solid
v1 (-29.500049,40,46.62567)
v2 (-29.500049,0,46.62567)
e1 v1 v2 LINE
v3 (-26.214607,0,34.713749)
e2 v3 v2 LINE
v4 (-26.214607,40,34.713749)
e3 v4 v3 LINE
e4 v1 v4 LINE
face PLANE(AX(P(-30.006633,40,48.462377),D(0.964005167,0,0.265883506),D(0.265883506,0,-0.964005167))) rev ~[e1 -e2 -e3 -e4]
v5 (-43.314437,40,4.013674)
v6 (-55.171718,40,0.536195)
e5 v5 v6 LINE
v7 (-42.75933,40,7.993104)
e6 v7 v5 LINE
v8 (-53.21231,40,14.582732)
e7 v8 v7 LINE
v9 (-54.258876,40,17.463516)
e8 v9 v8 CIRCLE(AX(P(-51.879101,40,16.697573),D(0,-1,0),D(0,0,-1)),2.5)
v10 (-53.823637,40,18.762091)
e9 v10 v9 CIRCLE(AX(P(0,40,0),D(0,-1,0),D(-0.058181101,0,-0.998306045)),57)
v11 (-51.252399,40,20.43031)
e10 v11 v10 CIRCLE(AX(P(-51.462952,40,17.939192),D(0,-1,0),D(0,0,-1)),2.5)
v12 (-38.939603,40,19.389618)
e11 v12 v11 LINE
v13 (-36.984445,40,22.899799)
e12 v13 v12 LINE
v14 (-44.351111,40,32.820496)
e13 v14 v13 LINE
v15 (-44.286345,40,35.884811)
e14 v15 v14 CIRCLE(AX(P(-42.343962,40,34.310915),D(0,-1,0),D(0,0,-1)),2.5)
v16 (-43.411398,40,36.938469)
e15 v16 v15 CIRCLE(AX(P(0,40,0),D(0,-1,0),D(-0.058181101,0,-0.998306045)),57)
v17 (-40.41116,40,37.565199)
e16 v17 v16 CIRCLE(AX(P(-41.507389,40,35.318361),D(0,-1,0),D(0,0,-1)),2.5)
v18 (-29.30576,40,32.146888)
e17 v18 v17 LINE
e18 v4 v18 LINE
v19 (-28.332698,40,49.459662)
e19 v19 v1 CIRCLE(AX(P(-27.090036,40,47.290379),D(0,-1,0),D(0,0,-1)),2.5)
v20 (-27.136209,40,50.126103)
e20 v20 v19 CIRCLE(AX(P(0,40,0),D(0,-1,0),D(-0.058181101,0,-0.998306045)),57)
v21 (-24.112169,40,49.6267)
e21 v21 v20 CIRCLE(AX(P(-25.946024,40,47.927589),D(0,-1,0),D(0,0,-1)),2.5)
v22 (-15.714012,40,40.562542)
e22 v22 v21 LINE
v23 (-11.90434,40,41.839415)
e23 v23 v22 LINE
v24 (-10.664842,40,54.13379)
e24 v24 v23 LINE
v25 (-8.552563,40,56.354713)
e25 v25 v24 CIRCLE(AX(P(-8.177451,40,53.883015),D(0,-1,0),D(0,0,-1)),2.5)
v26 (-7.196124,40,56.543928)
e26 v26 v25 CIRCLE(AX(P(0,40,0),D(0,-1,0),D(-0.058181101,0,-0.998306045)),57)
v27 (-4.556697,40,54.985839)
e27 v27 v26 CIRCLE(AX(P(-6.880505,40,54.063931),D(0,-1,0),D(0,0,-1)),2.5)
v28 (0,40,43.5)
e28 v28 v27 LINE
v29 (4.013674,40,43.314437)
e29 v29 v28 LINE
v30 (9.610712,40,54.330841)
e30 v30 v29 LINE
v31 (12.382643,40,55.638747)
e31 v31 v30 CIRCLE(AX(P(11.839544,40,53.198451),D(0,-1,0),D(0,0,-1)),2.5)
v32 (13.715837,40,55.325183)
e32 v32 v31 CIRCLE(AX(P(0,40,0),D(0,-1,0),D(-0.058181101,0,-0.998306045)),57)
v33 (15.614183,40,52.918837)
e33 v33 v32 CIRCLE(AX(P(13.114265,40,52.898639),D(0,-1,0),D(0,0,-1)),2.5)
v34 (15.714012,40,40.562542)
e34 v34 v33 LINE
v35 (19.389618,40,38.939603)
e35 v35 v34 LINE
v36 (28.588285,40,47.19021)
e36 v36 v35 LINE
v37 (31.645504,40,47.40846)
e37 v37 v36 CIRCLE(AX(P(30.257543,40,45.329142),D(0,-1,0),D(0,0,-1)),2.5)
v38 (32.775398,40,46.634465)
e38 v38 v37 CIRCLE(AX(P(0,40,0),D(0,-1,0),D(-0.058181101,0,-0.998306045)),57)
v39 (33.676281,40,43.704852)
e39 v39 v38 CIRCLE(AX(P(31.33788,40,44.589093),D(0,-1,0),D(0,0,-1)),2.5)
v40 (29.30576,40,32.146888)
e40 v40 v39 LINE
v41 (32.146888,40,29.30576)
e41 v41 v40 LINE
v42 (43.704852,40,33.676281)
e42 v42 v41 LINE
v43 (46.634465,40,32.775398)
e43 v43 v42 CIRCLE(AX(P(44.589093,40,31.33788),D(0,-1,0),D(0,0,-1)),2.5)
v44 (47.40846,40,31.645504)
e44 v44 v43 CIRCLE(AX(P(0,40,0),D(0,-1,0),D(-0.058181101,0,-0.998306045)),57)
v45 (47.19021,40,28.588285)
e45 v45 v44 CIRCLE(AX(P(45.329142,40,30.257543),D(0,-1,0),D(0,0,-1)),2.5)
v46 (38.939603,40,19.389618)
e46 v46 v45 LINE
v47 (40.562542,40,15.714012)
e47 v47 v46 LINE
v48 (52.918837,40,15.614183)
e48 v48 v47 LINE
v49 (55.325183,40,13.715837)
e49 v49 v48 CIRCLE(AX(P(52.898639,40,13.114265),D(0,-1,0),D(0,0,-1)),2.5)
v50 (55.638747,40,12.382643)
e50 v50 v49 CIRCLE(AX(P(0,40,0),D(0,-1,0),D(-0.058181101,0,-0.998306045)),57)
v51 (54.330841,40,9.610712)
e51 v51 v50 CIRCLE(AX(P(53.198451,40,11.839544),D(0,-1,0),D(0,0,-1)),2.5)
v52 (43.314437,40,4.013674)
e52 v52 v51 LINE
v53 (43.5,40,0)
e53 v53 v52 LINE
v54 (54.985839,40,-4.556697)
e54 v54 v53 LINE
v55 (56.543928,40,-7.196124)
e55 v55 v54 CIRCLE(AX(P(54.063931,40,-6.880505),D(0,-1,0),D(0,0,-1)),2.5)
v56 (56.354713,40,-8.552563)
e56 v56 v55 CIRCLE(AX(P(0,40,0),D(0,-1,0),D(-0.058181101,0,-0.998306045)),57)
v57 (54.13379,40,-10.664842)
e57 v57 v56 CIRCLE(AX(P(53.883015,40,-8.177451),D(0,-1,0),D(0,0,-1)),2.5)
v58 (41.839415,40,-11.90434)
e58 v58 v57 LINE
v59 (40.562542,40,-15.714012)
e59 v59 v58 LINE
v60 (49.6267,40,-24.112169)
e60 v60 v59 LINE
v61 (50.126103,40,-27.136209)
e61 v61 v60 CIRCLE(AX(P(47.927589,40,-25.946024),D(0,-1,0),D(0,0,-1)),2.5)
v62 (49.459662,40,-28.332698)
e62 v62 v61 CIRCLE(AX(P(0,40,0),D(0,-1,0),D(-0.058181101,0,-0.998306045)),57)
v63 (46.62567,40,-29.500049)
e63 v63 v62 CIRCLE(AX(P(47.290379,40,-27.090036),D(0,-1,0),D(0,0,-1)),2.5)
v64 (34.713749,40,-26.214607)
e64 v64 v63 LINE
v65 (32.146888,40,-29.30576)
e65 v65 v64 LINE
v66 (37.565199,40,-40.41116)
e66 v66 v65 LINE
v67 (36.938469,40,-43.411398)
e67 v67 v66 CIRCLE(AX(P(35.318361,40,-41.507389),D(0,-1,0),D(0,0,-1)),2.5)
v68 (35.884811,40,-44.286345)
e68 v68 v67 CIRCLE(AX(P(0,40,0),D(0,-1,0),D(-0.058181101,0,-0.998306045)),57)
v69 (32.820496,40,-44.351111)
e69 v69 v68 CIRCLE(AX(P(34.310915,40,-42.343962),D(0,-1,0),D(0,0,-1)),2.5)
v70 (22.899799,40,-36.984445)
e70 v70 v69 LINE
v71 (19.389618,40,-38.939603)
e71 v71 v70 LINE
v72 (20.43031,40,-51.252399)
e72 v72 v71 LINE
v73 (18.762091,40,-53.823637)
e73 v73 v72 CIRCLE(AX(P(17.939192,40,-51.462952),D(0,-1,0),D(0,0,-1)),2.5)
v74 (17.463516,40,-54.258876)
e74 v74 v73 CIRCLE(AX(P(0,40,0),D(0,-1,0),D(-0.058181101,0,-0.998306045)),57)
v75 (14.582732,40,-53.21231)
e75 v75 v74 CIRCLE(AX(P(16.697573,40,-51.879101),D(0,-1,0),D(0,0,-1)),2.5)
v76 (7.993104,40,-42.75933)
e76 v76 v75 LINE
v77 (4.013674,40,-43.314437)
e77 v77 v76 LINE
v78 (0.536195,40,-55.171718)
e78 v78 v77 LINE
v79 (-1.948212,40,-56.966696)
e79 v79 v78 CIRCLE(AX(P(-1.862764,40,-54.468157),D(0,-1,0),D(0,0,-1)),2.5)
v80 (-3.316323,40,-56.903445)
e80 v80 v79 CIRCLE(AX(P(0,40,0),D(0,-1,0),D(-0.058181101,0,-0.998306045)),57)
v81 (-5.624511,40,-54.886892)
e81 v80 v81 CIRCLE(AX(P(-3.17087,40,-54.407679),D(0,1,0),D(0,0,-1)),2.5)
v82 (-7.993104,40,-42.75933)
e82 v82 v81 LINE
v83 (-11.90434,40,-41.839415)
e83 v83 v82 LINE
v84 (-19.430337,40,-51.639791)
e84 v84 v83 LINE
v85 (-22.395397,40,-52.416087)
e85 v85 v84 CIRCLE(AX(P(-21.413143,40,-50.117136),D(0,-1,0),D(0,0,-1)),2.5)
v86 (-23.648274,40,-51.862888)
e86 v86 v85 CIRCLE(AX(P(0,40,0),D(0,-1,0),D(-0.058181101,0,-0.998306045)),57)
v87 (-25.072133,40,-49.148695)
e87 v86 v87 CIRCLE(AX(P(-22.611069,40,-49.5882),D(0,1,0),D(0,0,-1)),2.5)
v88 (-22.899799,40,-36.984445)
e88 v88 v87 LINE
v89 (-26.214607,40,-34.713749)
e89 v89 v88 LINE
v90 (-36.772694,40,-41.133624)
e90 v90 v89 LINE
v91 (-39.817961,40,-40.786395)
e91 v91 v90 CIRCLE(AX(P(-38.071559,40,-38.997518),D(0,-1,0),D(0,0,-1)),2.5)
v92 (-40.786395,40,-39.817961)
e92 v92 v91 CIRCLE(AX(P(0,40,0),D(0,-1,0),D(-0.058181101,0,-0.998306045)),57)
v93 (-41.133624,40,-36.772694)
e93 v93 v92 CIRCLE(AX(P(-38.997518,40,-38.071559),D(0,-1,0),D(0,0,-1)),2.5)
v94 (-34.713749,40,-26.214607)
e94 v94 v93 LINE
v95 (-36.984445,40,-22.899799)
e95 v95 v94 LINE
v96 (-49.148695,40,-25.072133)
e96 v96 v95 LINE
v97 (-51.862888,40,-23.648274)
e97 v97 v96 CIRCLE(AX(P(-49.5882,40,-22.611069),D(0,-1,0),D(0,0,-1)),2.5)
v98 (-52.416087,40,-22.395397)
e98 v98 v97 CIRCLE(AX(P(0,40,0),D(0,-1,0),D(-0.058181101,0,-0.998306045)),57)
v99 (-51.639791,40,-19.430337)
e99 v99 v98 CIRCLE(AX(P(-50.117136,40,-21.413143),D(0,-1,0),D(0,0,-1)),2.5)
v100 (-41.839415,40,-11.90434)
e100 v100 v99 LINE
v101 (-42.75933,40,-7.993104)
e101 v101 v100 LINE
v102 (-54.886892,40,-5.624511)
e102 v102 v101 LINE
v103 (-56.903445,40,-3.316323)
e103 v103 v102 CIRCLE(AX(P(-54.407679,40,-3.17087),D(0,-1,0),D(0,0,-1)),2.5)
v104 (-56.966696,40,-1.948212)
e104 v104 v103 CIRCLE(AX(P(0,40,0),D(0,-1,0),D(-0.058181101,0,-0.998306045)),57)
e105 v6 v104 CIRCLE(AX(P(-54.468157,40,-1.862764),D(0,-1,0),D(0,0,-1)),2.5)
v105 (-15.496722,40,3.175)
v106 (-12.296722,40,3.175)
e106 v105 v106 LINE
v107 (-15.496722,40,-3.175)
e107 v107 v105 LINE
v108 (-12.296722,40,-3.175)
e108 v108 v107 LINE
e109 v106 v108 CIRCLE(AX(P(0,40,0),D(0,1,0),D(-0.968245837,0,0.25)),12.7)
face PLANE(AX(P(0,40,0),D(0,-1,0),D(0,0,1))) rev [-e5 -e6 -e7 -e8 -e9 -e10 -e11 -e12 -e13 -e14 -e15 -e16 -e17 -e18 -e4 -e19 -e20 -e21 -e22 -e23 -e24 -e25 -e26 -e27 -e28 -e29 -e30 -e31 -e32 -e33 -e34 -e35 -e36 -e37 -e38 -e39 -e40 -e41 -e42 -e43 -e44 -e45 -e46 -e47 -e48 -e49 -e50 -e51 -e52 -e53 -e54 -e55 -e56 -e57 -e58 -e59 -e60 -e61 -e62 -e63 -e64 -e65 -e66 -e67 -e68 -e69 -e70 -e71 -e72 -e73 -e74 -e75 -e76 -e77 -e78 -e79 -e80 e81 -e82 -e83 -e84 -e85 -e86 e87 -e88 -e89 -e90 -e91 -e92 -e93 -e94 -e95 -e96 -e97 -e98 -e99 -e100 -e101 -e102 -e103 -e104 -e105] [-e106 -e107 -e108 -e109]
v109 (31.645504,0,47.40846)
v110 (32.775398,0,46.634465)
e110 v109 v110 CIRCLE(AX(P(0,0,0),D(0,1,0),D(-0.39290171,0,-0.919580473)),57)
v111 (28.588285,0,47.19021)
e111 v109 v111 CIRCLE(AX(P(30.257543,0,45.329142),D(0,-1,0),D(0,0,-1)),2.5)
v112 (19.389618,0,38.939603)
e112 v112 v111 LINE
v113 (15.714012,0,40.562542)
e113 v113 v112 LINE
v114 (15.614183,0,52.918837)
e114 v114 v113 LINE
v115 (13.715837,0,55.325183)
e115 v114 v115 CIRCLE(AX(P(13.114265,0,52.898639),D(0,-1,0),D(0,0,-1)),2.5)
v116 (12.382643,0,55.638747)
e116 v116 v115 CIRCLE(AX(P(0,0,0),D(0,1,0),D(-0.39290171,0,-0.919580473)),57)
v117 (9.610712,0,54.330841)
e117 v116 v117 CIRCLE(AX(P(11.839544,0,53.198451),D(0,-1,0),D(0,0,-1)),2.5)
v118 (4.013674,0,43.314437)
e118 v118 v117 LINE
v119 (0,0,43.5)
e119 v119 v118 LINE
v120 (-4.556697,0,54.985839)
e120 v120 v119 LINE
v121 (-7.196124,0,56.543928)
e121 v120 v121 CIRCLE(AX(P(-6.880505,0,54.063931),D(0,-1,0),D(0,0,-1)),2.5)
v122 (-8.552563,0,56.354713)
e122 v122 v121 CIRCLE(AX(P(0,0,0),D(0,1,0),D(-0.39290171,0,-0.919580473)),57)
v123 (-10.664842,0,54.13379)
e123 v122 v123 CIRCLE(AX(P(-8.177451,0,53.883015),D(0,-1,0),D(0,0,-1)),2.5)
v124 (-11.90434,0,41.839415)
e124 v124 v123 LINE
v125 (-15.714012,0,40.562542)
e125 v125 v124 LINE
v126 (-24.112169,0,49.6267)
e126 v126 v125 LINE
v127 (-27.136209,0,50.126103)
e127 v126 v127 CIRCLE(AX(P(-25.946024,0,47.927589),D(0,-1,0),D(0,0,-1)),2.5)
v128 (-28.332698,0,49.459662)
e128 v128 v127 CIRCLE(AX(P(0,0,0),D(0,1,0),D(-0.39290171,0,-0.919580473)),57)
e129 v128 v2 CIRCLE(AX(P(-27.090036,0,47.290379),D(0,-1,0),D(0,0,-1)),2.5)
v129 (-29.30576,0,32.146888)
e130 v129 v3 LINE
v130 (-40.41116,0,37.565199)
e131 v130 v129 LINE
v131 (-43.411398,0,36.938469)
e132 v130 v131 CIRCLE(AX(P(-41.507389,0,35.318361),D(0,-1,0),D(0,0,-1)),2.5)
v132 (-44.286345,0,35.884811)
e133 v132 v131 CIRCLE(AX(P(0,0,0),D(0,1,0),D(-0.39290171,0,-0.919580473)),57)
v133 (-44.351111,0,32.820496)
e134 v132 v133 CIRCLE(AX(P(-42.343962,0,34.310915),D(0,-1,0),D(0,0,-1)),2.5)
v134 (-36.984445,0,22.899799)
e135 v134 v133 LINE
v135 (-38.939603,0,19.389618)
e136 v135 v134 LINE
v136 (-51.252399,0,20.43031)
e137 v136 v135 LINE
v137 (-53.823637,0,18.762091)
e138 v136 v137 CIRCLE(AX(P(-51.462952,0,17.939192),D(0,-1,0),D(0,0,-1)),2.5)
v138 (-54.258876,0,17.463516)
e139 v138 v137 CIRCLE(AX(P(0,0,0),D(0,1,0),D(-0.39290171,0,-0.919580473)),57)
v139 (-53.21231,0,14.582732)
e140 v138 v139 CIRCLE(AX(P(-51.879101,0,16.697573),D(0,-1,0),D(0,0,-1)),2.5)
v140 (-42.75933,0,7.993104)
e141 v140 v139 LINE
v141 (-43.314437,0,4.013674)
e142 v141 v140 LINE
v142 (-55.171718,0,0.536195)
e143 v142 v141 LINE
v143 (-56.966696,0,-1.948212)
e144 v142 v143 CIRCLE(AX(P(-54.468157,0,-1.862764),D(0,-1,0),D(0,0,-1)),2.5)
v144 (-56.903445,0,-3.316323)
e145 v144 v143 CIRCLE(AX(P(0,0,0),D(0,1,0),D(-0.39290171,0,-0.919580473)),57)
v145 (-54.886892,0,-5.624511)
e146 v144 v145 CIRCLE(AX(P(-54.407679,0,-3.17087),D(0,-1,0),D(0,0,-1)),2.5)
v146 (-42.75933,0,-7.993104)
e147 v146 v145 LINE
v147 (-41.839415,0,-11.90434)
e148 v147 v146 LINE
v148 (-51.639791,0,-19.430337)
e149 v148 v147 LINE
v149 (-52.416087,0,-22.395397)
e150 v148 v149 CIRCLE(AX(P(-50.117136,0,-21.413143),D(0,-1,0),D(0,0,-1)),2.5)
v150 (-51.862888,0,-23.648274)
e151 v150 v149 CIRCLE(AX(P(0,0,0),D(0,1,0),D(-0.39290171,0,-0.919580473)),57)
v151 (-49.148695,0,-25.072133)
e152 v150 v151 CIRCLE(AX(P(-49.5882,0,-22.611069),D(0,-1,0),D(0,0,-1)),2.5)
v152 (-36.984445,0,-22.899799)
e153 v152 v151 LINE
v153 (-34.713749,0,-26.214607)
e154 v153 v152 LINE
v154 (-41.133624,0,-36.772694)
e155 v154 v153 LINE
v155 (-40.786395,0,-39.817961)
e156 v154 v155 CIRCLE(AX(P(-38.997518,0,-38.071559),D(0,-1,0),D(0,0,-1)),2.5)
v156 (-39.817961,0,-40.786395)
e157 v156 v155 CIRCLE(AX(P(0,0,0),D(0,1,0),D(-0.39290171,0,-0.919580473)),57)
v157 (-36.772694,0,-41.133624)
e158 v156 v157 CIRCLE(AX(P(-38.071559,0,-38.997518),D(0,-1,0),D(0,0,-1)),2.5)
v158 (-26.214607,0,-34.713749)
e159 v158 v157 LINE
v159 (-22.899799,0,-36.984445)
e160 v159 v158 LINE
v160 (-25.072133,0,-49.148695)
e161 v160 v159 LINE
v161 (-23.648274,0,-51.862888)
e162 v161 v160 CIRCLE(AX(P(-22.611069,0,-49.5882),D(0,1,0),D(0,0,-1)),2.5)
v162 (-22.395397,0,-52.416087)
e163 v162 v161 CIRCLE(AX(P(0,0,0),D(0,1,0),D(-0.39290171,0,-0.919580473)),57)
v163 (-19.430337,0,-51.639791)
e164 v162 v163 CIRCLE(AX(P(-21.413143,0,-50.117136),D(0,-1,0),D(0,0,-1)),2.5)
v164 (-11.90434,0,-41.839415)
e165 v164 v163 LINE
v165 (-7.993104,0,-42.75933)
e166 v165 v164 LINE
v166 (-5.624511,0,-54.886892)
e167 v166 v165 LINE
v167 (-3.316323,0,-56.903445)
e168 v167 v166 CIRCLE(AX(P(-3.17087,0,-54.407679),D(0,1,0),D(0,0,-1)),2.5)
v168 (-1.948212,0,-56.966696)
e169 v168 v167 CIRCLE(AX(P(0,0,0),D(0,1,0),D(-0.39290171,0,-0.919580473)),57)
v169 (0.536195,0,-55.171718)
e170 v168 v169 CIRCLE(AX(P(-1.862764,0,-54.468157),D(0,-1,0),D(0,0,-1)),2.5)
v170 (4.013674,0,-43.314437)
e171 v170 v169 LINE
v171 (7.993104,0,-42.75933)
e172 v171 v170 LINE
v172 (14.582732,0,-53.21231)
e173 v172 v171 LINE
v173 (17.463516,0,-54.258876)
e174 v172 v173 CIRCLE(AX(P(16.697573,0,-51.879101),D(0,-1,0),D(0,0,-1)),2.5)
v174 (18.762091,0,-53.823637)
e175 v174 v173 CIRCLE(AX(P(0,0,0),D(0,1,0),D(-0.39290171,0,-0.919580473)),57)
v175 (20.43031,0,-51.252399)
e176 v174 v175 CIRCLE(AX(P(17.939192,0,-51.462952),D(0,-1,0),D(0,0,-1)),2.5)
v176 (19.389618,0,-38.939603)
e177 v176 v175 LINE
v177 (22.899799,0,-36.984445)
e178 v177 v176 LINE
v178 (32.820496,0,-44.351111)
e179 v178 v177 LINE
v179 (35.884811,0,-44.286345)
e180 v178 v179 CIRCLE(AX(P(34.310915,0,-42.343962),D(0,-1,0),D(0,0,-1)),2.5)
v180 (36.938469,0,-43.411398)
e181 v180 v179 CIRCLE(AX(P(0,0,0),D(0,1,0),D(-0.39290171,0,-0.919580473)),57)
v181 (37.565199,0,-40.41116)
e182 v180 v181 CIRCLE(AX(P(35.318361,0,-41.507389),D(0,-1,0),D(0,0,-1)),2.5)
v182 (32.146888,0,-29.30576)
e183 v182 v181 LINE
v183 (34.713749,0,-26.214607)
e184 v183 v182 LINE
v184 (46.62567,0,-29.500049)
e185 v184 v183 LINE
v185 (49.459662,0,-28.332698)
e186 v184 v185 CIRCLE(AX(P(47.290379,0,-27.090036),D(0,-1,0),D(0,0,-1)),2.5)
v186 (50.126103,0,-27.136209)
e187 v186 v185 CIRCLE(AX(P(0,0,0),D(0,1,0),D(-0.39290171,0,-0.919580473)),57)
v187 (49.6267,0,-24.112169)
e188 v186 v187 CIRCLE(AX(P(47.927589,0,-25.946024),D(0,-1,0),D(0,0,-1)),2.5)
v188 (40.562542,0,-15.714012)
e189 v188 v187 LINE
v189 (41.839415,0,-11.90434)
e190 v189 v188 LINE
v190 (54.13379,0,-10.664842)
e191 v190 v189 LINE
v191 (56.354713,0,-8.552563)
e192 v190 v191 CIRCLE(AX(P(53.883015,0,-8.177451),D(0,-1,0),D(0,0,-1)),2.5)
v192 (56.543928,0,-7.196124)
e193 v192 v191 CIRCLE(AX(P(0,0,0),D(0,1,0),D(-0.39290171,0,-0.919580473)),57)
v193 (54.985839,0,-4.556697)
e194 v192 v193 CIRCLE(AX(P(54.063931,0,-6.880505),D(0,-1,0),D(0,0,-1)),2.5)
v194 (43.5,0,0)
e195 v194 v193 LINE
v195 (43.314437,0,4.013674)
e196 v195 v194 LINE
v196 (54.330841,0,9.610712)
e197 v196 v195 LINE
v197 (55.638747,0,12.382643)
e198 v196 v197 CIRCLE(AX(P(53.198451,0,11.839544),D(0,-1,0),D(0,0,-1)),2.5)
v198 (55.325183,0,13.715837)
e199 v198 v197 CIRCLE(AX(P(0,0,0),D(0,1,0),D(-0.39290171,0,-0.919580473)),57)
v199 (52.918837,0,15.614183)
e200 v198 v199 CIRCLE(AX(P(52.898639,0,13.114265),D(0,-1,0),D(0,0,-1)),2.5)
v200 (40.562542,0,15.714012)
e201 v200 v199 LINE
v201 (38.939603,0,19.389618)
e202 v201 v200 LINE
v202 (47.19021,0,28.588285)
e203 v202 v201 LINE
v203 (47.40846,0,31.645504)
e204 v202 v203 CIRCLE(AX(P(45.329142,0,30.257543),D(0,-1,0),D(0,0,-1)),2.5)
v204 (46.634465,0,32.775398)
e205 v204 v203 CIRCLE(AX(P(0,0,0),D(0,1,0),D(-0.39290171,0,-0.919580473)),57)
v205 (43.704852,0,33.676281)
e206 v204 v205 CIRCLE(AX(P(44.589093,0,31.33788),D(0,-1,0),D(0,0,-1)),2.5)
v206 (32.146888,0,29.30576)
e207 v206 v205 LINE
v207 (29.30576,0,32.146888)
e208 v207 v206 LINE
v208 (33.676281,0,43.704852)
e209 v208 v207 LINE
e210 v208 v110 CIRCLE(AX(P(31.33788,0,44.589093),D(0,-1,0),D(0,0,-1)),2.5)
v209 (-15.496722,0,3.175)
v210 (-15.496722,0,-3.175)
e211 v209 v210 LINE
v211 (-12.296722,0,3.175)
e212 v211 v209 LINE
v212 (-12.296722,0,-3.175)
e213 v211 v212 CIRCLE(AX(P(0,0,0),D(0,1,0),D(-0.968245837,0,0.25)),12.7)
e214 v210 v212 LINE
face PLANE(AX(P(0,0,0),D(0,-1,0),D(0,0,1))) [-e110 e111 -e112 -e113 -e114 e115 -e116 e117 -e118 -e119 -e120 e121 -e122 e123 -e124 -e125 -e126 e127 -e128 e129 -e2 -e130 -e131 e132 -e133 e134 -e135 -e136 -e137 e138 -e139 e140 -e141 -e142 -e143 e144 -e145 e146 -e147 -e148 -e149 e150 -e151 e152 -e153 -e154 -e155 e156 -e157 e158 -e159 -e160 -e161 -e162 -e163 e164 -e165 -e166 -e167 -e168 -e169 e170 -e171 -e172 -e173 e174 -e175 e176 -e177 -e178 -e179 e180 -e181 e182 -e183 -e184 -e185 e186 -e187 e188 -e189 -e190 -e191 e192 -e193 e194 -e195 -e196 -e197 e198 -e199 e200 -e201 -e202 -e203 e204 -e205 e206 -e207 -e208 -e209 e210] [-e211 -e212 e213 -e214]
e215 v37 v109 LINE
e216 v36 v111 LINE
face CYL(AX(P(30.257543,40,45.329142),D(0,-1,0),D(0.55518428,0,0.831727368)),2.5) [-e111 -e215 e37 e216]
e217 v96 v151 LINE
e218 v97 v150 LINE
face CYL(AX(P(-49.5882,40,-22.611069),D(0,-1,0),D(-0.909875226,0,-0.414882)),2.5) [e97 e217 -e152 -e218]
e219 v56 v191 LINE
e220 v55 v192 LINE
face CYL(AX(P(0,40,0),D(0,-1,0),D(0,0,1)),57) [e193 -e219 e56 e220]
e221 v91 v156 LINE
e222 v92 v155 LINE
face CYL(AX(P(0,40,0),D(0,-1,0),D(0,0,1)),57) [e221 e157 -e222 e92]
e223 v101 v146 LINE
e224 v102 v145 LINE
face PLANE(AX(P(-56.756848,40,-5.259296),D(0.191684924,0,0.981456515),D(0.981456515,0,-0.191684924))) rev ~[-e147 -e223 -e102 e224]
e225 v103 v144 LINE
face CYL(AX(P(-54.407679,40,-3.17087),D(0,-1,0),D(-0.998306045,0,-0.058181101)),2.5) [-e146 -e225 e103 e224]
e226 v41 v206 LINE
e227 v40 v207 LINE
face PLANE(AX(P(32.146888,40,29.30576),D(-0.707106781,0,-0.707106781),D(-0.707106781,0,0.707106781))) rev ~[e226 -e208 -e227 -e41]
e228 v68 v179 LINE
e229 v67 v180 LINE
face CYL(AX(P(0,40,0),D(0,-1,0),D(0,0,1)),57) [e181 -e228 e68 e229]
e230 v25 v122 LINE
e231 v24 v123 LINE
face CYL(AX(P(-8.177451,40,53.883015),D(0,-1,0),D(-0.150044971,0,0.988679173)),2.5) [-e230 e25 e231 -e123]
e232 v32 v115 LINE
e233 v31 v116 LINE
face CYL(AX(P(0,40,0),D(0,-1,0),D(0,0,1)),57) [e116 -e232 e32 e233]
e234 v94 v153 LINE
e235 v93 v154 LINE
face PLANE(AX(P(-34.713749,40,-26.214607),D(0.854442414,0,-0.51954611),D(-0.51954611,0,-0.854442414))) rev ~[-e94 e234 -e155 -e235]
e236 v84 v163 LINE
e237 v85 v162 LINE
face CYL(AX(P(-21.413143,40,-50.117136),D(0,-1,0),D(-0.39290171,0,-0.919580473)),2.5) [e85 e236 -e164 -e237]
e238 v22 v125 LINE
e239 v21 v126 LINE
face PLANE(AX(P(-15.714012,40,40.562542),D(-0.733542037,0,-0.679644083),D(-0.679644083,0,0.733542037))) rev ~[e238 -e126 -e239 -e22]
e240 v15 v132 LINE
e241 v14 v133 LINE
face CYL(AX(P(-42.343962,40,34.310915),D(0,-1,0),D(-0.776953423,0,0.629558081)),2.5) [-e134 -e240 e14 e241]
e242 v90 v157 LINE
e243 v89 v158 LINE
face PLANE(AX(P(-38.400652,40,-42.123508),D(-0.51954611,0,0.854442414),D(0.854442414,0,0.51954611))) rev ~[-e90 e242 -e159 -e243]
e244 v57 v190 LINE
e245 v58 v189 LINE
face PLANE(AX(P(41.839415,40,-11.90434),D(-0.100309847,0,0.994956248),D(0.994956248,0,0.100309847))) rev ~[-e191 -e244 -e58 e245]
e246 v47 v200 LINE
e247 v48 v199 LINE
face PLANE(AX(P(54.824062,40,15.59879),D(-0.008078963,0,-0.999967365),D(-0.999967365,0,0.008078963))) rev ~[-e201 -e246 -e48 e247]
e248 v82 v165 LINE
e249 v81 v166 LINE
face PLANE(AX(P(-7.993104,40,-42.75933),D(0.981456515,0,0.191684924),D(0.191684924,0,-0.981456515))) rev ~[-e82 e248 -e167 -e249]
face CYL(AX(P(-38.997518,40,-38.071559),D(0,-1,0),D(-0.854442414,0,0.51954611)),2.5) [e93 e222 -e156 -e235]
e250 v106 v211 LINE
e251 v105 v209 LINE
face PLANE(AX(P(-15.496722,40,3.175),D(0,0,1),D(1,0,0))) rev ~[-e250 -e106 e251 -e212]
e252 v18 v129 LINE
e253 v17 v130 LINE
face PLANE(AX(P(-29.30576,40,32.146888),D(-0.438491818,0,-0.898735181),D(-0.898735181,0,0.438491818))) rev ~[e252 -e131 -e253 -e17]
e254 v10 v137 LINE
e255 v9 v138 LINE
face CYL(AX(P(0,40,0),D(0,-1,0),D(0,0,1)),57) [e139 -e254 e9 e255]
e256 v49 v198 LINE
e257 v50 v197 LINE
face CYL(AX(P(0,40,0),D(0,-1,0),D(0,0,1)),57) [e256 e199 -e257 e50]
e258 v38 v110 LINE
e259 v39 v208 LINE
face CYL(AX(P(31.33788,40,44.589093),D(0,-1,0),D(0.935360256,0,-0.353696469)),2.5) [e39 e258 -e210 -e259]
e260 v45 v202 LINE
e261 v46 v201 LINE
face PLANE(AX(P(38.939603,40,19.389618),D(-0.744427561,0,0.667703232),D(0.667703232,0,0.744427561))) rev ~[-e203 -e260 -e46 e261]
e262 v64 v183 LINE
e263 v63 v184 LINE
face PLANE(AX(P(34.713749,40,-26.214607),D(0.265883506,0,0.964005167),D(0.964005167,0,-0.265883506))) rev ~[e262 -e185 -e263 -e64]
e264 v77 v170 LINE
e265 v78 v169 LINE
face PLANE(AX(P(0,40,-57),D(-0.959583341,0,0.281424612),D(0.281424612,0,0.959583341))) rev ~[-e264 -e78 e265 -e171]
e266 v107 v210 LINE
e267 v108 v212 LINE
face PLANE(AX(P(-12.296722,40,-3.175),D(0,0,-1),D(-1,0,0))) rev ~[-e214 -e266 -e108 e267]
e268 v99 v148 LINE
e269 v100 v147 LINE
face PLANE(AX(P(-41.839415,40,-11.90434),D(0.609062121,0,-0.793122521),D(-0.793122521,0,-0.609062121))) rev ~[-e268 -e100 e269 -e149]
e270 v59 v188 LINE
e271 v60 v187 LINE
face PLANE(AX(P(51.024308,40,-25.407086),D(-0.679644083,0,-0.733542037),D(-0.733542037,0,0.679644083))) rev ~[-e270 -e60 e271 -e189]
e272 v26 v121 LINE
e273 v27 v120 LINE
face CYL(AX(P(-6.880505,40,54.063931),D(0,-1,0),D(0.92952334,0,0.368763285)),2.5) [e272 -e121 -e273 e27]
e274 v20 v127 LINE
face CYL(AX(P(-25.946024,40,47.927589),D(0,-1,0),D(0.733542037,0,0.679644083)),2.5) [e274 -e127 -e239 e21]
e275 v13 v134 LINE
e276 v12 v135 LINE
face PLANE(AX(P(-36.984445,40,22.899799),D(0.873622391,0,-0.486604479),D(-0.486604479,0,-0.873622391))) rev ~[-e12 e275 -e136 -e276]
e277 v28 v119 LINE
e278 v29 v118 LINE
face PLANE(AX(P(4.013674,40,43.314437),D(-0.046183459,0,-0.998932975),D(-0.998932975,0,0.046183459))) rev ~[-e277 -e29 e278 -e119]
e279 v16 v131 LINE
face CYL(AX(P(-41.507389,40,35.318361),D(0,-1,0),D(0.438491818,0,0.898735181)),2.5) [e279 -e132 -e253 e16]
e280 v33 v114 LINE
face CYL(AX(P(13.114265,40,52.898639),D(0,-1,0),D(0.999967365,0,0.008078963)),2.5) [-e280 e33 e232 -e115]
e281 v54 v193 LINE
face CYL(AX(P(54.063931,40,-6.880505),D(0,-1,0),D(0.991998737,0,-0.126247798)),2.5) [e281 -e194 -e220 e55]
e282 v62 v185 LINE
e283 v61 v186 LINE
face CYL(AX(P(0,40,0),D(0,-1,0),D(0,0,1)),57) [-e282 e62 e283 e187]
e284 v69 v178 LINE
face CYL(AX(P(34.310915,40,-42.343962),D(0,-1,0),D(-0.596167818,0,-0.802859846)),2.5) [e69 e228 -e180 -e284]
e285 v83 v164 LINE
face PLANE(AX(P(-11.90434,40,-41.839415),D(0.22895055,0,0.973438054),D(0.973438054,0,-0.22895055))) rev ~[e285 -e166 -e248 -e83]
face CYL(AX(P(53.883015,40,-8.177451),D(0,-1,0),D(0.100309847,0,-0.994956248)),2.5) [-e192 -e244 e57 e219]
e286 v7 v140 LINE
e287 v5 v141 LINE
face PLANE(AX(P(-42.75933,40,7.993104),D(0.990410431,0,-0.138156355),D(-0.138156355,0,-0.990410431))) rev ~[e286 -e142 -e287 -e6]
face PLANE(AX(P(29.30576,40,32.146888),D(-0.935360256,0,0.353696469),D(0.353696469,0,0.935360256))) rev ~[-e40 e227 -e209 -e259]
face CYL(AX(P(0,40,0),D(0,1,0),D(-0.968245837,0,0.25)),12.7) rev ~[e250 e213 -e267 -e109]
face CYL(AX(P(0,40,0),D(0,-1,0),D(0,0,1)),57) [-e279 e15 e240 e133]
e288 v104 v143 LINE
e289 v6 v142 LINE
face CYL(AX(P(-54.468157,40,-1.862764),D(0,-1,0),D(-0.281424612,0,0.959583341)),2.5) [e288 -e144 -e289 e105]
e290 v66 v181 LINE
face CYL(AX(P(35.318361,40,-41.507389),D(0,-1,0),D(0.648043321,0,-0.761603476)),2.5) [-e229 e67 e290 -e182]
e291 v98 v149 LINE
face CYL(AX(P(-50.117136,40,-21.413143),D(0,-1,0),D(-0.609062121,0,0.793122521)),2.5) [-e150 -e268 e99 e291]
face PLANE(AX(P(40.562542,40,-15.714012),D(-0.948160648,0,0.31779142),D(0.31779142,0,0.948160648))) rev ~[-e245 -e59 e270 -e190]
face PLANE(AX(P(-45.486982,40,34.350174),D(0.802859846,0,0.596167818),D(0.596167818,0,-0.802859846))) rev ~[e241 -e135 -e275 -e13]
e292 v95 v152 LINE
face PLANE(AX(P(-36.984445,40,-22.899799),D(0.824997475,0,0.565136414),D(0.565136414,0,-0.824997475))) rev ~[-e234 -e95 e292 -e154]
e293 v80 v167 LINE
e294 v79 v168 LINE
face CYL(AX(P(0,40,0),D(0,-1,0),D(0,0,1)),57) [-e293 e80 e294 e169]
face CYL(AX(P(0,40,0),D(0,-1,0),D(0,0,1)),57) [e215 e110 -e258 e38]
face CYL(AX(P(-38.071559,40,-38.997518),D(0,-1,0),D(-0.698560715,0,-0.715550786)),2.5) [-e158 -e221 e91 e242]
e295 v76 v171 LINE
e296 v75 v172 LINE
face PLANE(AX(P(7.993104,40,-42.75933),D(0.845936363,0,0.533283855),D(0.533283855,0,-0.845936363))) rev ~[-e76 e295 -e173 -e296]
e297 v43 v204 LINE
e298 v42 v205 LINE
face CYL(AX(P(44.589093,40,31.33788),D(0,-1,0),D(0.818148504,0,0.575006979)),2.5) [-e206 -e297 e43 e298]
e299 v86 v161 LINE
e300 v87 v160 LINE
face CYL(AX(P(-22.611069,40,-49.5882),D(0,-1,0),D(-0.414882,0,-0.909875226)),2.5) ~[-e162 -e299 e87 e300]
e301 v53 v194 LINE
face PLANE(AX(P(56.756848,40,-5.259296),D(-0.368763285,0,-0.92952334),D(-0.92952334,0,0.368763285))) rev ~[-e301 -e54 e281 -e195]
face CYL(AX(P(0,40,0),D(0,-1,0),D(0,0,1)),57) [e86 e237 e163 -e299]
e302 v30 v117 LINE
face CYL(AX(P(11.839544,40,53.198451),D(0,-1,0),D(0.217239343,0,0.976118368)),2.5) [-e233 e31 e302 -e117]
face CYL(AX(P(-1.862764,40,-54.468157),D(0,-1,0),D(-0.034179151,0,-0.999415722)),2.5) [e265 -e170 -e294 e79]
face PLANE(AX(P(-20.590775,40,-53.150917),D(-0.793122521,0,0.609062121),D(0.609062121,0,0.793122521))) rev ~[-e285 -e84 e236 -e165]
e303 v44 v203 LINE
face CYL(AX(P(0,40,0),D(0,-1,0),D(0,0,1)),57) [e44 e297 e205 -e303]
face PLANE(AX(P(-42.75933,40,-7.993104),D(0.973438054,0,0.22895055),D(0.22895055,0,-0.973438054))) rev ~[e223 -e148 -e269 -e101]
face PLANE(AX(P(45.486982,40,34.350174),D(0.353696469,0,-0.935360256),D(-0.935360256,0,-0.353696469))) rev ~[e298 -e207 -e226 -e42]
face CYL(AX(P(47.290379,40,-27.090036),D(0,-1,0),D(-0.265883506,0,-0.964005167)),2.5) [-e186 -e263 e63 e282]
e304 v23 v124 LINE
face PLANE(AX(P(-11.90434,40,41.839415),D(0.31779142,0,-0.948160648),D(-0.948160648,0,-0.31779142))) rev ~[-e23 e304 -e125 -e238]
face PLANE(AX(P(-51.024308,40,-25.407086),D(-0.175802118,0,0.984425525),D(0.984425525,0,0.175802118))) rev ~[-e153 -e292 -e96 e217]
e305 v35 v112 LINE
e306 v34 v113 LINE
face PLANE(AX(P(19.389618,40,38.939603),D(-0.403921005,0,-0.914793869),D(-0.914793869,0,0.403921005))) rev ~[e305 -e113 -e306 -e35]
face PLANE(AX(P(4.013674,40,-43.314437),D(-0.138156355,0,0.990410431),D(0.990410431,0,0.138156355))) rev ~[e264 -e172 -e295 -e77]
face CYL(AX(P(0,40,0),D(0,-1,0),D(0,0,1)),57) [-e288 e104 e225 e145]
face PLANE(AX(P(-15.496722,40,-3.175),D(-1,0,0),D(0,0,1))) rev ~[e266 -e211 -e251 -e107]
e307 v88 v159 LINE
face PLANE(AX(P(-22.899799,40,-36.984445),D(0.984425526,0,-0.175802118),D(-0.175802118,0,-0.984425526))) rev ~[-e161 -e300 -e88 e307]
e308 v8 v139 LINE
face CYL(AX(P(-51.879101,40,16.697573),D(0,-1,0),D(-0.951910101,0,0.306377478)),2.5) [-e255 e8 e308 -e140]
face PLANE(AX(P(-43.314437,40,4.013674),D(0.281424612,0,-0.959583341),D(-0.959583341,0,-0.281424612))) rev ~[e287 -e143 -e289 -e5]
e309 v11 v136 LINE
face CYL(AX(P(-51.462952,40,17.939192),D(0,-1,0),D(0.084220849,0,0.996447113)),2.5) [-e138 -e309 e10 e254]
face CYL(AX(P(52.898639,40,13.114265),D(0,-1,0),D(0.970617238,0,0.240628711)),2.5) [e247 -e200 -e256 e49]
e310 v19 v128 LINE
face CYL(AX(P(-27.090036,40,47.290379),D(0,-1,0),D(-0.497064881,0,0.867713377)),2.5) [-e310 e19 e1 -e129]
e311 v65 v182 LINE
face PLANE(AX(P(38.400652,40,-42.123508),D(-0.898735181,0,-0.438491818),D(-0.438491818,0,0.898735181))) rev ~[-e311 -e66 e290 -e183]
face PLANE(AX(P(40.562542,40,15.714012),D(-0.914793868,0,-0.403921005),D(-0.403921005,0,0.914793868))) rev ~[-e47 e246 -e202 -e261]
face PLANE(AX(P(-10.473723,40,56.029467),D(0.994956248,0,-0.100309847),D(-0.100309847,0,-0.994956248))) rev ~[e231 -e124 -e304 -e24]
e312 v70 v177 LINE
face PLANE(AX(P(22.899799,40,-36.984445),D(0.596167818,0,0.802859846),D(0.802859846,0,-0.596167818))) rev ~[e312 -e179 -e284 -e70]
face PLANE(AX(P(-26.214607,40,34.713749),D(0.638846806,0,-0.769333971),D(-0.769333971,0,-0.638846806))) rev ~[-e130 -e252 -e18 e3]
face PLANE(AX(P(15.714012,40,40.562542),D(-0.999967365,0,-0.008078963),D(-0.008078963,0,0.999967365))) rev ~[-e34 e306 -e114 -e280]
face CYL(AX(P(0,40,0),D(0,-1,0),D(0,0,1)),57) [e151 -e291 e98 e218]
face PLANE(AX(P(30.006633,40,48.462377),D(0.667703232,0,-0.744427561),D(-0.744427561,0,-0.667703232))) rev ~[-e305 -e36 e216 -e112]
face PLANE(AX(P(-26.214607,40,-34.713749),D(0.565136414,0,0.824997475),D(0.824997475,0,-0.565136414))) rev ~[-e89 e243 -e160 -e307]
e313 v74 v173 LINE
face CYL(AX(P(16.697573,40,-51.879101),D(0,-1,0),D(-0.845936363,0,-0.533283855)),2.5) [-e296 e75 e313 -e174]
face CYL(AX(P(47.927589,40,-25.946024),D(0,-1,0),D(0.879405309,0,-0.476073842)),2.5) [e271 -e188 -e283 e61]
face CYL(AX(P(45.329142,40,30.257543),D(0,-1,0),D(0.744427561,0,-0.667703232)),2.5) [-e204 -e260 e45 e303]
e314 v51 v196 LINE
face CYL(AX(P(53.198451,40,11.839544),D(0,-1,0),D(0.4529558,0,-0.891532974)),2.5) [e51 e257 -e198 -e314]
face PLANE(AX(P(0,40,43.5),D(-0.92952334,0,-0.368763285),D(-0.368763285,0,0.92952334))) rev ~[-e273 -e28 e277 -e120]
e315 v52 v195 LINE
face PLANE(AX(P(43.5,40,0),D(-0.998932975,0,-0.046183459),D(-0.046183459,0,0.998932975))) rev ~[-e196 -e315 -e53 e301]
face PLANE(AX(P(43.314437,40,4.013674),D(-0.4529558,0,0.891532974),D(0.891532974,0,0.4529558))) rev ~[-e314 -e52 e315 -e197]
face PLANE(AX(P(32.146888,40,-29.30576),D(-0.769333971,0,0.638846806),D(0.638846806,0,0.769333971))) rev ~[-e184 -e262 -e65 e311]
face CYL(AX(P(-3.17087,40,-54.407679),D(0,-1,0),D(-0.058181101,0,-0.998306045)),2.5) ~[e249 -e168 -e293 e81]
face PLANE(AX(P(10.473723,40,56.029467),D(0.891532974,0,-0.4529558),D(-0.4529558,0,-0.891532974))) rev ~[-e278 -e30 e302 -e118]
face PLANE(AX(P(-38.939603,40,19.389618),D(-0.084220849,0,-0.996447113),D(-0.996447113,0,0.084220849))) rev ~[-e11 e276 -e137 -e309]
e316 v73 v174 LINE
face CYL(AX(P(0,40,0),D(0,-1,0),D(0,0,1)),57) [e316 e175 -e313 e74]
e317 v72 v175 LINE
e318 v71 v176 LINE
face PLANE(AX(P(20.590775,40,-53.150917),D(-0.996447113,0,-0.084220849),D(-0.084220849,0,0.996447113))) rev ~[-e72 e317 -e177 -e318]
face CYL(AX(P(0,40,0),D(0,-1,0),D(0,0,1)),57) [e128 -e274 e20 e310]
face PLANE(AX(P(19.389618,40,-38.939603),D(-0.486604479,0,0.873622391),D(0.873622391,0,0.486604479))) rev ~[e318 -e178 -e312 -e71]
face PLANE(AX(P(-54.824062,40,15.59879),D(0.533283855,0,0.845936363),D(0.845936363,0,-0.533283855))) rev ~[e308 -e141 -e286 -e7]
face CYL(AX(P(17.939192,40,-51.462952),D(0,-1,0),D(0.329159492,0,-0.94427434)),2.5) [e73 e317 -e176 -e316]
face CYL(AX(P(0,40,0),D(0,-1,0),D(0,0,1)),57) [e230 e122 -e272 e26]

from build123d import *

# Parameters (mm, degrees)
ENL_V_MAT_EXTRU_3_DEPTH            = 90.988888203
CONG_1_R                           = 2.5
R_P_TITION_CIRCULAIRE1_COUNT       = 17
CONG_1_OF_R_P_TITION_CIRCULAIRE1_R = 2.5
ENL_V_MAT_EXTRU_4_DEPTH            = 90.948550801


with BuildPart() as part:
    # Esquisse1 → Révolution1 (revolve)
    with BuildSketch(Plane.XY, mode=Mode.PRIVATE) as r_volution1_sk:
        Polygon((-57, 40), (-57, 0), (-50, 0), (0, 0), (0, 40), (-50, 40), align=None)
    revolve(r_volution1_sk.sketch.rotate(Axis((0, 40, 0), (0, -1, 0)), 270), axis=Axis((0, 40, 0), (0, -1, 0)))

    # Esquisse5 → Enlèv. mat.-Extru.3 (cut, through all)
    with BuildSketch(Plane(origin=(0, 40, 0), x_dir=(1, 0, 0), z_dir=(0, 1, 0))):
        with BuildLine():
            ThreePointArc((-5.25929649, 56.756848049), (-13.050181347, 55.485969099), (-20.590774973, 53.150917076))
            Line((-20.590774973, 53.150917076), (-11.904340069, 41.839415478))
            Line((-11.904340069, 41.839415478), (-7.993104026, 42.759329836))
            Line((-7.993104026, 42.759329836), (-5.25929649, 56.756848049))
        make_face()
    enl_v_mat_extru_3 = extrude(amount=-ENL_V_MAT_EXTRU_3_DEPTH, mode=Mode.SUBTRACT)

    # Congé1
    cong_1_edges = [part.edges().sort_by_distance(p)[0] for p in [
        (-20.590774973, 20, -53.150917076),
        (-5.25929649, 20, -56.756848049),
    ]]
    fillet(cong_1_edges, radius=CONG_1_R)

    # Répétition circulaire1: Enlèv. mat.-Extru.3 ×17 about axis
    r_p_tition_circulaire1_axis = Axis((0, 0, 0), (0, 1, 0))
    for i in range(1, R_P_TITION_CIRCULAIRE1_COUNT):
        add(enl_v_mat_extru_3.rotate(r_p_tition_circulaire1_axis, i * 360 / R_P_TITION_CIRCULAIRE1_COUNT), mode=Mode.SUBTRACT)

    # Congé1 of Répétition circulaire1
    cong_1_of_r_p_tition_circulaire1_edges = [part.edges().sort_by_distance(p)[0] for p in [
        (-38.400651688, 20, -42.123508282),
        (-25.40708628, 20, -51.024307607),
        (-51.024307607, 20, -25.407086279),
        (-42.123508282, 20, -38.400651688),
        (-56.756848049, 20, -5.259296489),
        (-53.150917076, 20, -20.590774972),
        (-54.824061661, 20, 15.598790434),
        (-57, 20, 0),
        (-45.486981955, 20, 34.350174274),
        (-53.150917076, 20, 20.590774973),
        (-30.006633284, 20, 48.462376737),
        (-42.123508281, 20, 38.400651688),
        (-10.473722516, 20, 56.029466682),
        (-25.407086279, 20, 51.024307607),
        (10.473722516, 20, 56.029466682),
        (-5.259296489, 20, 56.756848049),
        (30.006633284, 20, 48.462376737),
        (15.598790435, 20, 54.824061661),
        (45.486981955, 20, 34.350174274),
        (34.350174274, 20, 45.486981955),
        (54.824061661, 20, 15.598790434),
        (48.462376737, 20, 30.006633284),
        (56.756848049, 20, -5.259296489),
        (56.029466682, 20, 10.473722515),
        (51.024307607, 20, -25.407086279),
        (56.029466682, 20, -10.473722516),
        (38.400651688, 20, -42.123508282),
        (48.462376736, 20, -30.006633284),
        (20.590774973, 20, -53.150917076),
        (34.350174273, 20, -45.486981955),
        (0, 20, -57),
        (15.598790434, 20, -54.824061661),
    ]]
    fillet(cong_1_of_r_p_tition_circulaire1_edges, radius=CONG_1_OF_R_P_TITION_CIRCULAIRE1_R)

    # Esquisse6 → Enlèv. mat.-Extru.4 (cut, through all)
    with BuildSketch(Plane(origin=(0, 40, 0), x_dir=(1, 0, 0), z_dir=(0, 1, 0))):
        with BuildLine():
            Line((-12.296722124, 3.175), (-15.496722124, 3.175))
            Line((-15.496722124, 3.175), (-15.496722124, -3.175))
            Line((-15.496722124, -3.175), (-12.296722124, -3.175))
            ThreePointArc((-12.296722124, -3.175), (12.7, 0), (-12.296722124, 3.175))
        make_face()
    extrude(amount=-ENL_V_MAT_EXTRU_4_DEPTH, mode=Mode.SUBTRACT)


solid = part.part
